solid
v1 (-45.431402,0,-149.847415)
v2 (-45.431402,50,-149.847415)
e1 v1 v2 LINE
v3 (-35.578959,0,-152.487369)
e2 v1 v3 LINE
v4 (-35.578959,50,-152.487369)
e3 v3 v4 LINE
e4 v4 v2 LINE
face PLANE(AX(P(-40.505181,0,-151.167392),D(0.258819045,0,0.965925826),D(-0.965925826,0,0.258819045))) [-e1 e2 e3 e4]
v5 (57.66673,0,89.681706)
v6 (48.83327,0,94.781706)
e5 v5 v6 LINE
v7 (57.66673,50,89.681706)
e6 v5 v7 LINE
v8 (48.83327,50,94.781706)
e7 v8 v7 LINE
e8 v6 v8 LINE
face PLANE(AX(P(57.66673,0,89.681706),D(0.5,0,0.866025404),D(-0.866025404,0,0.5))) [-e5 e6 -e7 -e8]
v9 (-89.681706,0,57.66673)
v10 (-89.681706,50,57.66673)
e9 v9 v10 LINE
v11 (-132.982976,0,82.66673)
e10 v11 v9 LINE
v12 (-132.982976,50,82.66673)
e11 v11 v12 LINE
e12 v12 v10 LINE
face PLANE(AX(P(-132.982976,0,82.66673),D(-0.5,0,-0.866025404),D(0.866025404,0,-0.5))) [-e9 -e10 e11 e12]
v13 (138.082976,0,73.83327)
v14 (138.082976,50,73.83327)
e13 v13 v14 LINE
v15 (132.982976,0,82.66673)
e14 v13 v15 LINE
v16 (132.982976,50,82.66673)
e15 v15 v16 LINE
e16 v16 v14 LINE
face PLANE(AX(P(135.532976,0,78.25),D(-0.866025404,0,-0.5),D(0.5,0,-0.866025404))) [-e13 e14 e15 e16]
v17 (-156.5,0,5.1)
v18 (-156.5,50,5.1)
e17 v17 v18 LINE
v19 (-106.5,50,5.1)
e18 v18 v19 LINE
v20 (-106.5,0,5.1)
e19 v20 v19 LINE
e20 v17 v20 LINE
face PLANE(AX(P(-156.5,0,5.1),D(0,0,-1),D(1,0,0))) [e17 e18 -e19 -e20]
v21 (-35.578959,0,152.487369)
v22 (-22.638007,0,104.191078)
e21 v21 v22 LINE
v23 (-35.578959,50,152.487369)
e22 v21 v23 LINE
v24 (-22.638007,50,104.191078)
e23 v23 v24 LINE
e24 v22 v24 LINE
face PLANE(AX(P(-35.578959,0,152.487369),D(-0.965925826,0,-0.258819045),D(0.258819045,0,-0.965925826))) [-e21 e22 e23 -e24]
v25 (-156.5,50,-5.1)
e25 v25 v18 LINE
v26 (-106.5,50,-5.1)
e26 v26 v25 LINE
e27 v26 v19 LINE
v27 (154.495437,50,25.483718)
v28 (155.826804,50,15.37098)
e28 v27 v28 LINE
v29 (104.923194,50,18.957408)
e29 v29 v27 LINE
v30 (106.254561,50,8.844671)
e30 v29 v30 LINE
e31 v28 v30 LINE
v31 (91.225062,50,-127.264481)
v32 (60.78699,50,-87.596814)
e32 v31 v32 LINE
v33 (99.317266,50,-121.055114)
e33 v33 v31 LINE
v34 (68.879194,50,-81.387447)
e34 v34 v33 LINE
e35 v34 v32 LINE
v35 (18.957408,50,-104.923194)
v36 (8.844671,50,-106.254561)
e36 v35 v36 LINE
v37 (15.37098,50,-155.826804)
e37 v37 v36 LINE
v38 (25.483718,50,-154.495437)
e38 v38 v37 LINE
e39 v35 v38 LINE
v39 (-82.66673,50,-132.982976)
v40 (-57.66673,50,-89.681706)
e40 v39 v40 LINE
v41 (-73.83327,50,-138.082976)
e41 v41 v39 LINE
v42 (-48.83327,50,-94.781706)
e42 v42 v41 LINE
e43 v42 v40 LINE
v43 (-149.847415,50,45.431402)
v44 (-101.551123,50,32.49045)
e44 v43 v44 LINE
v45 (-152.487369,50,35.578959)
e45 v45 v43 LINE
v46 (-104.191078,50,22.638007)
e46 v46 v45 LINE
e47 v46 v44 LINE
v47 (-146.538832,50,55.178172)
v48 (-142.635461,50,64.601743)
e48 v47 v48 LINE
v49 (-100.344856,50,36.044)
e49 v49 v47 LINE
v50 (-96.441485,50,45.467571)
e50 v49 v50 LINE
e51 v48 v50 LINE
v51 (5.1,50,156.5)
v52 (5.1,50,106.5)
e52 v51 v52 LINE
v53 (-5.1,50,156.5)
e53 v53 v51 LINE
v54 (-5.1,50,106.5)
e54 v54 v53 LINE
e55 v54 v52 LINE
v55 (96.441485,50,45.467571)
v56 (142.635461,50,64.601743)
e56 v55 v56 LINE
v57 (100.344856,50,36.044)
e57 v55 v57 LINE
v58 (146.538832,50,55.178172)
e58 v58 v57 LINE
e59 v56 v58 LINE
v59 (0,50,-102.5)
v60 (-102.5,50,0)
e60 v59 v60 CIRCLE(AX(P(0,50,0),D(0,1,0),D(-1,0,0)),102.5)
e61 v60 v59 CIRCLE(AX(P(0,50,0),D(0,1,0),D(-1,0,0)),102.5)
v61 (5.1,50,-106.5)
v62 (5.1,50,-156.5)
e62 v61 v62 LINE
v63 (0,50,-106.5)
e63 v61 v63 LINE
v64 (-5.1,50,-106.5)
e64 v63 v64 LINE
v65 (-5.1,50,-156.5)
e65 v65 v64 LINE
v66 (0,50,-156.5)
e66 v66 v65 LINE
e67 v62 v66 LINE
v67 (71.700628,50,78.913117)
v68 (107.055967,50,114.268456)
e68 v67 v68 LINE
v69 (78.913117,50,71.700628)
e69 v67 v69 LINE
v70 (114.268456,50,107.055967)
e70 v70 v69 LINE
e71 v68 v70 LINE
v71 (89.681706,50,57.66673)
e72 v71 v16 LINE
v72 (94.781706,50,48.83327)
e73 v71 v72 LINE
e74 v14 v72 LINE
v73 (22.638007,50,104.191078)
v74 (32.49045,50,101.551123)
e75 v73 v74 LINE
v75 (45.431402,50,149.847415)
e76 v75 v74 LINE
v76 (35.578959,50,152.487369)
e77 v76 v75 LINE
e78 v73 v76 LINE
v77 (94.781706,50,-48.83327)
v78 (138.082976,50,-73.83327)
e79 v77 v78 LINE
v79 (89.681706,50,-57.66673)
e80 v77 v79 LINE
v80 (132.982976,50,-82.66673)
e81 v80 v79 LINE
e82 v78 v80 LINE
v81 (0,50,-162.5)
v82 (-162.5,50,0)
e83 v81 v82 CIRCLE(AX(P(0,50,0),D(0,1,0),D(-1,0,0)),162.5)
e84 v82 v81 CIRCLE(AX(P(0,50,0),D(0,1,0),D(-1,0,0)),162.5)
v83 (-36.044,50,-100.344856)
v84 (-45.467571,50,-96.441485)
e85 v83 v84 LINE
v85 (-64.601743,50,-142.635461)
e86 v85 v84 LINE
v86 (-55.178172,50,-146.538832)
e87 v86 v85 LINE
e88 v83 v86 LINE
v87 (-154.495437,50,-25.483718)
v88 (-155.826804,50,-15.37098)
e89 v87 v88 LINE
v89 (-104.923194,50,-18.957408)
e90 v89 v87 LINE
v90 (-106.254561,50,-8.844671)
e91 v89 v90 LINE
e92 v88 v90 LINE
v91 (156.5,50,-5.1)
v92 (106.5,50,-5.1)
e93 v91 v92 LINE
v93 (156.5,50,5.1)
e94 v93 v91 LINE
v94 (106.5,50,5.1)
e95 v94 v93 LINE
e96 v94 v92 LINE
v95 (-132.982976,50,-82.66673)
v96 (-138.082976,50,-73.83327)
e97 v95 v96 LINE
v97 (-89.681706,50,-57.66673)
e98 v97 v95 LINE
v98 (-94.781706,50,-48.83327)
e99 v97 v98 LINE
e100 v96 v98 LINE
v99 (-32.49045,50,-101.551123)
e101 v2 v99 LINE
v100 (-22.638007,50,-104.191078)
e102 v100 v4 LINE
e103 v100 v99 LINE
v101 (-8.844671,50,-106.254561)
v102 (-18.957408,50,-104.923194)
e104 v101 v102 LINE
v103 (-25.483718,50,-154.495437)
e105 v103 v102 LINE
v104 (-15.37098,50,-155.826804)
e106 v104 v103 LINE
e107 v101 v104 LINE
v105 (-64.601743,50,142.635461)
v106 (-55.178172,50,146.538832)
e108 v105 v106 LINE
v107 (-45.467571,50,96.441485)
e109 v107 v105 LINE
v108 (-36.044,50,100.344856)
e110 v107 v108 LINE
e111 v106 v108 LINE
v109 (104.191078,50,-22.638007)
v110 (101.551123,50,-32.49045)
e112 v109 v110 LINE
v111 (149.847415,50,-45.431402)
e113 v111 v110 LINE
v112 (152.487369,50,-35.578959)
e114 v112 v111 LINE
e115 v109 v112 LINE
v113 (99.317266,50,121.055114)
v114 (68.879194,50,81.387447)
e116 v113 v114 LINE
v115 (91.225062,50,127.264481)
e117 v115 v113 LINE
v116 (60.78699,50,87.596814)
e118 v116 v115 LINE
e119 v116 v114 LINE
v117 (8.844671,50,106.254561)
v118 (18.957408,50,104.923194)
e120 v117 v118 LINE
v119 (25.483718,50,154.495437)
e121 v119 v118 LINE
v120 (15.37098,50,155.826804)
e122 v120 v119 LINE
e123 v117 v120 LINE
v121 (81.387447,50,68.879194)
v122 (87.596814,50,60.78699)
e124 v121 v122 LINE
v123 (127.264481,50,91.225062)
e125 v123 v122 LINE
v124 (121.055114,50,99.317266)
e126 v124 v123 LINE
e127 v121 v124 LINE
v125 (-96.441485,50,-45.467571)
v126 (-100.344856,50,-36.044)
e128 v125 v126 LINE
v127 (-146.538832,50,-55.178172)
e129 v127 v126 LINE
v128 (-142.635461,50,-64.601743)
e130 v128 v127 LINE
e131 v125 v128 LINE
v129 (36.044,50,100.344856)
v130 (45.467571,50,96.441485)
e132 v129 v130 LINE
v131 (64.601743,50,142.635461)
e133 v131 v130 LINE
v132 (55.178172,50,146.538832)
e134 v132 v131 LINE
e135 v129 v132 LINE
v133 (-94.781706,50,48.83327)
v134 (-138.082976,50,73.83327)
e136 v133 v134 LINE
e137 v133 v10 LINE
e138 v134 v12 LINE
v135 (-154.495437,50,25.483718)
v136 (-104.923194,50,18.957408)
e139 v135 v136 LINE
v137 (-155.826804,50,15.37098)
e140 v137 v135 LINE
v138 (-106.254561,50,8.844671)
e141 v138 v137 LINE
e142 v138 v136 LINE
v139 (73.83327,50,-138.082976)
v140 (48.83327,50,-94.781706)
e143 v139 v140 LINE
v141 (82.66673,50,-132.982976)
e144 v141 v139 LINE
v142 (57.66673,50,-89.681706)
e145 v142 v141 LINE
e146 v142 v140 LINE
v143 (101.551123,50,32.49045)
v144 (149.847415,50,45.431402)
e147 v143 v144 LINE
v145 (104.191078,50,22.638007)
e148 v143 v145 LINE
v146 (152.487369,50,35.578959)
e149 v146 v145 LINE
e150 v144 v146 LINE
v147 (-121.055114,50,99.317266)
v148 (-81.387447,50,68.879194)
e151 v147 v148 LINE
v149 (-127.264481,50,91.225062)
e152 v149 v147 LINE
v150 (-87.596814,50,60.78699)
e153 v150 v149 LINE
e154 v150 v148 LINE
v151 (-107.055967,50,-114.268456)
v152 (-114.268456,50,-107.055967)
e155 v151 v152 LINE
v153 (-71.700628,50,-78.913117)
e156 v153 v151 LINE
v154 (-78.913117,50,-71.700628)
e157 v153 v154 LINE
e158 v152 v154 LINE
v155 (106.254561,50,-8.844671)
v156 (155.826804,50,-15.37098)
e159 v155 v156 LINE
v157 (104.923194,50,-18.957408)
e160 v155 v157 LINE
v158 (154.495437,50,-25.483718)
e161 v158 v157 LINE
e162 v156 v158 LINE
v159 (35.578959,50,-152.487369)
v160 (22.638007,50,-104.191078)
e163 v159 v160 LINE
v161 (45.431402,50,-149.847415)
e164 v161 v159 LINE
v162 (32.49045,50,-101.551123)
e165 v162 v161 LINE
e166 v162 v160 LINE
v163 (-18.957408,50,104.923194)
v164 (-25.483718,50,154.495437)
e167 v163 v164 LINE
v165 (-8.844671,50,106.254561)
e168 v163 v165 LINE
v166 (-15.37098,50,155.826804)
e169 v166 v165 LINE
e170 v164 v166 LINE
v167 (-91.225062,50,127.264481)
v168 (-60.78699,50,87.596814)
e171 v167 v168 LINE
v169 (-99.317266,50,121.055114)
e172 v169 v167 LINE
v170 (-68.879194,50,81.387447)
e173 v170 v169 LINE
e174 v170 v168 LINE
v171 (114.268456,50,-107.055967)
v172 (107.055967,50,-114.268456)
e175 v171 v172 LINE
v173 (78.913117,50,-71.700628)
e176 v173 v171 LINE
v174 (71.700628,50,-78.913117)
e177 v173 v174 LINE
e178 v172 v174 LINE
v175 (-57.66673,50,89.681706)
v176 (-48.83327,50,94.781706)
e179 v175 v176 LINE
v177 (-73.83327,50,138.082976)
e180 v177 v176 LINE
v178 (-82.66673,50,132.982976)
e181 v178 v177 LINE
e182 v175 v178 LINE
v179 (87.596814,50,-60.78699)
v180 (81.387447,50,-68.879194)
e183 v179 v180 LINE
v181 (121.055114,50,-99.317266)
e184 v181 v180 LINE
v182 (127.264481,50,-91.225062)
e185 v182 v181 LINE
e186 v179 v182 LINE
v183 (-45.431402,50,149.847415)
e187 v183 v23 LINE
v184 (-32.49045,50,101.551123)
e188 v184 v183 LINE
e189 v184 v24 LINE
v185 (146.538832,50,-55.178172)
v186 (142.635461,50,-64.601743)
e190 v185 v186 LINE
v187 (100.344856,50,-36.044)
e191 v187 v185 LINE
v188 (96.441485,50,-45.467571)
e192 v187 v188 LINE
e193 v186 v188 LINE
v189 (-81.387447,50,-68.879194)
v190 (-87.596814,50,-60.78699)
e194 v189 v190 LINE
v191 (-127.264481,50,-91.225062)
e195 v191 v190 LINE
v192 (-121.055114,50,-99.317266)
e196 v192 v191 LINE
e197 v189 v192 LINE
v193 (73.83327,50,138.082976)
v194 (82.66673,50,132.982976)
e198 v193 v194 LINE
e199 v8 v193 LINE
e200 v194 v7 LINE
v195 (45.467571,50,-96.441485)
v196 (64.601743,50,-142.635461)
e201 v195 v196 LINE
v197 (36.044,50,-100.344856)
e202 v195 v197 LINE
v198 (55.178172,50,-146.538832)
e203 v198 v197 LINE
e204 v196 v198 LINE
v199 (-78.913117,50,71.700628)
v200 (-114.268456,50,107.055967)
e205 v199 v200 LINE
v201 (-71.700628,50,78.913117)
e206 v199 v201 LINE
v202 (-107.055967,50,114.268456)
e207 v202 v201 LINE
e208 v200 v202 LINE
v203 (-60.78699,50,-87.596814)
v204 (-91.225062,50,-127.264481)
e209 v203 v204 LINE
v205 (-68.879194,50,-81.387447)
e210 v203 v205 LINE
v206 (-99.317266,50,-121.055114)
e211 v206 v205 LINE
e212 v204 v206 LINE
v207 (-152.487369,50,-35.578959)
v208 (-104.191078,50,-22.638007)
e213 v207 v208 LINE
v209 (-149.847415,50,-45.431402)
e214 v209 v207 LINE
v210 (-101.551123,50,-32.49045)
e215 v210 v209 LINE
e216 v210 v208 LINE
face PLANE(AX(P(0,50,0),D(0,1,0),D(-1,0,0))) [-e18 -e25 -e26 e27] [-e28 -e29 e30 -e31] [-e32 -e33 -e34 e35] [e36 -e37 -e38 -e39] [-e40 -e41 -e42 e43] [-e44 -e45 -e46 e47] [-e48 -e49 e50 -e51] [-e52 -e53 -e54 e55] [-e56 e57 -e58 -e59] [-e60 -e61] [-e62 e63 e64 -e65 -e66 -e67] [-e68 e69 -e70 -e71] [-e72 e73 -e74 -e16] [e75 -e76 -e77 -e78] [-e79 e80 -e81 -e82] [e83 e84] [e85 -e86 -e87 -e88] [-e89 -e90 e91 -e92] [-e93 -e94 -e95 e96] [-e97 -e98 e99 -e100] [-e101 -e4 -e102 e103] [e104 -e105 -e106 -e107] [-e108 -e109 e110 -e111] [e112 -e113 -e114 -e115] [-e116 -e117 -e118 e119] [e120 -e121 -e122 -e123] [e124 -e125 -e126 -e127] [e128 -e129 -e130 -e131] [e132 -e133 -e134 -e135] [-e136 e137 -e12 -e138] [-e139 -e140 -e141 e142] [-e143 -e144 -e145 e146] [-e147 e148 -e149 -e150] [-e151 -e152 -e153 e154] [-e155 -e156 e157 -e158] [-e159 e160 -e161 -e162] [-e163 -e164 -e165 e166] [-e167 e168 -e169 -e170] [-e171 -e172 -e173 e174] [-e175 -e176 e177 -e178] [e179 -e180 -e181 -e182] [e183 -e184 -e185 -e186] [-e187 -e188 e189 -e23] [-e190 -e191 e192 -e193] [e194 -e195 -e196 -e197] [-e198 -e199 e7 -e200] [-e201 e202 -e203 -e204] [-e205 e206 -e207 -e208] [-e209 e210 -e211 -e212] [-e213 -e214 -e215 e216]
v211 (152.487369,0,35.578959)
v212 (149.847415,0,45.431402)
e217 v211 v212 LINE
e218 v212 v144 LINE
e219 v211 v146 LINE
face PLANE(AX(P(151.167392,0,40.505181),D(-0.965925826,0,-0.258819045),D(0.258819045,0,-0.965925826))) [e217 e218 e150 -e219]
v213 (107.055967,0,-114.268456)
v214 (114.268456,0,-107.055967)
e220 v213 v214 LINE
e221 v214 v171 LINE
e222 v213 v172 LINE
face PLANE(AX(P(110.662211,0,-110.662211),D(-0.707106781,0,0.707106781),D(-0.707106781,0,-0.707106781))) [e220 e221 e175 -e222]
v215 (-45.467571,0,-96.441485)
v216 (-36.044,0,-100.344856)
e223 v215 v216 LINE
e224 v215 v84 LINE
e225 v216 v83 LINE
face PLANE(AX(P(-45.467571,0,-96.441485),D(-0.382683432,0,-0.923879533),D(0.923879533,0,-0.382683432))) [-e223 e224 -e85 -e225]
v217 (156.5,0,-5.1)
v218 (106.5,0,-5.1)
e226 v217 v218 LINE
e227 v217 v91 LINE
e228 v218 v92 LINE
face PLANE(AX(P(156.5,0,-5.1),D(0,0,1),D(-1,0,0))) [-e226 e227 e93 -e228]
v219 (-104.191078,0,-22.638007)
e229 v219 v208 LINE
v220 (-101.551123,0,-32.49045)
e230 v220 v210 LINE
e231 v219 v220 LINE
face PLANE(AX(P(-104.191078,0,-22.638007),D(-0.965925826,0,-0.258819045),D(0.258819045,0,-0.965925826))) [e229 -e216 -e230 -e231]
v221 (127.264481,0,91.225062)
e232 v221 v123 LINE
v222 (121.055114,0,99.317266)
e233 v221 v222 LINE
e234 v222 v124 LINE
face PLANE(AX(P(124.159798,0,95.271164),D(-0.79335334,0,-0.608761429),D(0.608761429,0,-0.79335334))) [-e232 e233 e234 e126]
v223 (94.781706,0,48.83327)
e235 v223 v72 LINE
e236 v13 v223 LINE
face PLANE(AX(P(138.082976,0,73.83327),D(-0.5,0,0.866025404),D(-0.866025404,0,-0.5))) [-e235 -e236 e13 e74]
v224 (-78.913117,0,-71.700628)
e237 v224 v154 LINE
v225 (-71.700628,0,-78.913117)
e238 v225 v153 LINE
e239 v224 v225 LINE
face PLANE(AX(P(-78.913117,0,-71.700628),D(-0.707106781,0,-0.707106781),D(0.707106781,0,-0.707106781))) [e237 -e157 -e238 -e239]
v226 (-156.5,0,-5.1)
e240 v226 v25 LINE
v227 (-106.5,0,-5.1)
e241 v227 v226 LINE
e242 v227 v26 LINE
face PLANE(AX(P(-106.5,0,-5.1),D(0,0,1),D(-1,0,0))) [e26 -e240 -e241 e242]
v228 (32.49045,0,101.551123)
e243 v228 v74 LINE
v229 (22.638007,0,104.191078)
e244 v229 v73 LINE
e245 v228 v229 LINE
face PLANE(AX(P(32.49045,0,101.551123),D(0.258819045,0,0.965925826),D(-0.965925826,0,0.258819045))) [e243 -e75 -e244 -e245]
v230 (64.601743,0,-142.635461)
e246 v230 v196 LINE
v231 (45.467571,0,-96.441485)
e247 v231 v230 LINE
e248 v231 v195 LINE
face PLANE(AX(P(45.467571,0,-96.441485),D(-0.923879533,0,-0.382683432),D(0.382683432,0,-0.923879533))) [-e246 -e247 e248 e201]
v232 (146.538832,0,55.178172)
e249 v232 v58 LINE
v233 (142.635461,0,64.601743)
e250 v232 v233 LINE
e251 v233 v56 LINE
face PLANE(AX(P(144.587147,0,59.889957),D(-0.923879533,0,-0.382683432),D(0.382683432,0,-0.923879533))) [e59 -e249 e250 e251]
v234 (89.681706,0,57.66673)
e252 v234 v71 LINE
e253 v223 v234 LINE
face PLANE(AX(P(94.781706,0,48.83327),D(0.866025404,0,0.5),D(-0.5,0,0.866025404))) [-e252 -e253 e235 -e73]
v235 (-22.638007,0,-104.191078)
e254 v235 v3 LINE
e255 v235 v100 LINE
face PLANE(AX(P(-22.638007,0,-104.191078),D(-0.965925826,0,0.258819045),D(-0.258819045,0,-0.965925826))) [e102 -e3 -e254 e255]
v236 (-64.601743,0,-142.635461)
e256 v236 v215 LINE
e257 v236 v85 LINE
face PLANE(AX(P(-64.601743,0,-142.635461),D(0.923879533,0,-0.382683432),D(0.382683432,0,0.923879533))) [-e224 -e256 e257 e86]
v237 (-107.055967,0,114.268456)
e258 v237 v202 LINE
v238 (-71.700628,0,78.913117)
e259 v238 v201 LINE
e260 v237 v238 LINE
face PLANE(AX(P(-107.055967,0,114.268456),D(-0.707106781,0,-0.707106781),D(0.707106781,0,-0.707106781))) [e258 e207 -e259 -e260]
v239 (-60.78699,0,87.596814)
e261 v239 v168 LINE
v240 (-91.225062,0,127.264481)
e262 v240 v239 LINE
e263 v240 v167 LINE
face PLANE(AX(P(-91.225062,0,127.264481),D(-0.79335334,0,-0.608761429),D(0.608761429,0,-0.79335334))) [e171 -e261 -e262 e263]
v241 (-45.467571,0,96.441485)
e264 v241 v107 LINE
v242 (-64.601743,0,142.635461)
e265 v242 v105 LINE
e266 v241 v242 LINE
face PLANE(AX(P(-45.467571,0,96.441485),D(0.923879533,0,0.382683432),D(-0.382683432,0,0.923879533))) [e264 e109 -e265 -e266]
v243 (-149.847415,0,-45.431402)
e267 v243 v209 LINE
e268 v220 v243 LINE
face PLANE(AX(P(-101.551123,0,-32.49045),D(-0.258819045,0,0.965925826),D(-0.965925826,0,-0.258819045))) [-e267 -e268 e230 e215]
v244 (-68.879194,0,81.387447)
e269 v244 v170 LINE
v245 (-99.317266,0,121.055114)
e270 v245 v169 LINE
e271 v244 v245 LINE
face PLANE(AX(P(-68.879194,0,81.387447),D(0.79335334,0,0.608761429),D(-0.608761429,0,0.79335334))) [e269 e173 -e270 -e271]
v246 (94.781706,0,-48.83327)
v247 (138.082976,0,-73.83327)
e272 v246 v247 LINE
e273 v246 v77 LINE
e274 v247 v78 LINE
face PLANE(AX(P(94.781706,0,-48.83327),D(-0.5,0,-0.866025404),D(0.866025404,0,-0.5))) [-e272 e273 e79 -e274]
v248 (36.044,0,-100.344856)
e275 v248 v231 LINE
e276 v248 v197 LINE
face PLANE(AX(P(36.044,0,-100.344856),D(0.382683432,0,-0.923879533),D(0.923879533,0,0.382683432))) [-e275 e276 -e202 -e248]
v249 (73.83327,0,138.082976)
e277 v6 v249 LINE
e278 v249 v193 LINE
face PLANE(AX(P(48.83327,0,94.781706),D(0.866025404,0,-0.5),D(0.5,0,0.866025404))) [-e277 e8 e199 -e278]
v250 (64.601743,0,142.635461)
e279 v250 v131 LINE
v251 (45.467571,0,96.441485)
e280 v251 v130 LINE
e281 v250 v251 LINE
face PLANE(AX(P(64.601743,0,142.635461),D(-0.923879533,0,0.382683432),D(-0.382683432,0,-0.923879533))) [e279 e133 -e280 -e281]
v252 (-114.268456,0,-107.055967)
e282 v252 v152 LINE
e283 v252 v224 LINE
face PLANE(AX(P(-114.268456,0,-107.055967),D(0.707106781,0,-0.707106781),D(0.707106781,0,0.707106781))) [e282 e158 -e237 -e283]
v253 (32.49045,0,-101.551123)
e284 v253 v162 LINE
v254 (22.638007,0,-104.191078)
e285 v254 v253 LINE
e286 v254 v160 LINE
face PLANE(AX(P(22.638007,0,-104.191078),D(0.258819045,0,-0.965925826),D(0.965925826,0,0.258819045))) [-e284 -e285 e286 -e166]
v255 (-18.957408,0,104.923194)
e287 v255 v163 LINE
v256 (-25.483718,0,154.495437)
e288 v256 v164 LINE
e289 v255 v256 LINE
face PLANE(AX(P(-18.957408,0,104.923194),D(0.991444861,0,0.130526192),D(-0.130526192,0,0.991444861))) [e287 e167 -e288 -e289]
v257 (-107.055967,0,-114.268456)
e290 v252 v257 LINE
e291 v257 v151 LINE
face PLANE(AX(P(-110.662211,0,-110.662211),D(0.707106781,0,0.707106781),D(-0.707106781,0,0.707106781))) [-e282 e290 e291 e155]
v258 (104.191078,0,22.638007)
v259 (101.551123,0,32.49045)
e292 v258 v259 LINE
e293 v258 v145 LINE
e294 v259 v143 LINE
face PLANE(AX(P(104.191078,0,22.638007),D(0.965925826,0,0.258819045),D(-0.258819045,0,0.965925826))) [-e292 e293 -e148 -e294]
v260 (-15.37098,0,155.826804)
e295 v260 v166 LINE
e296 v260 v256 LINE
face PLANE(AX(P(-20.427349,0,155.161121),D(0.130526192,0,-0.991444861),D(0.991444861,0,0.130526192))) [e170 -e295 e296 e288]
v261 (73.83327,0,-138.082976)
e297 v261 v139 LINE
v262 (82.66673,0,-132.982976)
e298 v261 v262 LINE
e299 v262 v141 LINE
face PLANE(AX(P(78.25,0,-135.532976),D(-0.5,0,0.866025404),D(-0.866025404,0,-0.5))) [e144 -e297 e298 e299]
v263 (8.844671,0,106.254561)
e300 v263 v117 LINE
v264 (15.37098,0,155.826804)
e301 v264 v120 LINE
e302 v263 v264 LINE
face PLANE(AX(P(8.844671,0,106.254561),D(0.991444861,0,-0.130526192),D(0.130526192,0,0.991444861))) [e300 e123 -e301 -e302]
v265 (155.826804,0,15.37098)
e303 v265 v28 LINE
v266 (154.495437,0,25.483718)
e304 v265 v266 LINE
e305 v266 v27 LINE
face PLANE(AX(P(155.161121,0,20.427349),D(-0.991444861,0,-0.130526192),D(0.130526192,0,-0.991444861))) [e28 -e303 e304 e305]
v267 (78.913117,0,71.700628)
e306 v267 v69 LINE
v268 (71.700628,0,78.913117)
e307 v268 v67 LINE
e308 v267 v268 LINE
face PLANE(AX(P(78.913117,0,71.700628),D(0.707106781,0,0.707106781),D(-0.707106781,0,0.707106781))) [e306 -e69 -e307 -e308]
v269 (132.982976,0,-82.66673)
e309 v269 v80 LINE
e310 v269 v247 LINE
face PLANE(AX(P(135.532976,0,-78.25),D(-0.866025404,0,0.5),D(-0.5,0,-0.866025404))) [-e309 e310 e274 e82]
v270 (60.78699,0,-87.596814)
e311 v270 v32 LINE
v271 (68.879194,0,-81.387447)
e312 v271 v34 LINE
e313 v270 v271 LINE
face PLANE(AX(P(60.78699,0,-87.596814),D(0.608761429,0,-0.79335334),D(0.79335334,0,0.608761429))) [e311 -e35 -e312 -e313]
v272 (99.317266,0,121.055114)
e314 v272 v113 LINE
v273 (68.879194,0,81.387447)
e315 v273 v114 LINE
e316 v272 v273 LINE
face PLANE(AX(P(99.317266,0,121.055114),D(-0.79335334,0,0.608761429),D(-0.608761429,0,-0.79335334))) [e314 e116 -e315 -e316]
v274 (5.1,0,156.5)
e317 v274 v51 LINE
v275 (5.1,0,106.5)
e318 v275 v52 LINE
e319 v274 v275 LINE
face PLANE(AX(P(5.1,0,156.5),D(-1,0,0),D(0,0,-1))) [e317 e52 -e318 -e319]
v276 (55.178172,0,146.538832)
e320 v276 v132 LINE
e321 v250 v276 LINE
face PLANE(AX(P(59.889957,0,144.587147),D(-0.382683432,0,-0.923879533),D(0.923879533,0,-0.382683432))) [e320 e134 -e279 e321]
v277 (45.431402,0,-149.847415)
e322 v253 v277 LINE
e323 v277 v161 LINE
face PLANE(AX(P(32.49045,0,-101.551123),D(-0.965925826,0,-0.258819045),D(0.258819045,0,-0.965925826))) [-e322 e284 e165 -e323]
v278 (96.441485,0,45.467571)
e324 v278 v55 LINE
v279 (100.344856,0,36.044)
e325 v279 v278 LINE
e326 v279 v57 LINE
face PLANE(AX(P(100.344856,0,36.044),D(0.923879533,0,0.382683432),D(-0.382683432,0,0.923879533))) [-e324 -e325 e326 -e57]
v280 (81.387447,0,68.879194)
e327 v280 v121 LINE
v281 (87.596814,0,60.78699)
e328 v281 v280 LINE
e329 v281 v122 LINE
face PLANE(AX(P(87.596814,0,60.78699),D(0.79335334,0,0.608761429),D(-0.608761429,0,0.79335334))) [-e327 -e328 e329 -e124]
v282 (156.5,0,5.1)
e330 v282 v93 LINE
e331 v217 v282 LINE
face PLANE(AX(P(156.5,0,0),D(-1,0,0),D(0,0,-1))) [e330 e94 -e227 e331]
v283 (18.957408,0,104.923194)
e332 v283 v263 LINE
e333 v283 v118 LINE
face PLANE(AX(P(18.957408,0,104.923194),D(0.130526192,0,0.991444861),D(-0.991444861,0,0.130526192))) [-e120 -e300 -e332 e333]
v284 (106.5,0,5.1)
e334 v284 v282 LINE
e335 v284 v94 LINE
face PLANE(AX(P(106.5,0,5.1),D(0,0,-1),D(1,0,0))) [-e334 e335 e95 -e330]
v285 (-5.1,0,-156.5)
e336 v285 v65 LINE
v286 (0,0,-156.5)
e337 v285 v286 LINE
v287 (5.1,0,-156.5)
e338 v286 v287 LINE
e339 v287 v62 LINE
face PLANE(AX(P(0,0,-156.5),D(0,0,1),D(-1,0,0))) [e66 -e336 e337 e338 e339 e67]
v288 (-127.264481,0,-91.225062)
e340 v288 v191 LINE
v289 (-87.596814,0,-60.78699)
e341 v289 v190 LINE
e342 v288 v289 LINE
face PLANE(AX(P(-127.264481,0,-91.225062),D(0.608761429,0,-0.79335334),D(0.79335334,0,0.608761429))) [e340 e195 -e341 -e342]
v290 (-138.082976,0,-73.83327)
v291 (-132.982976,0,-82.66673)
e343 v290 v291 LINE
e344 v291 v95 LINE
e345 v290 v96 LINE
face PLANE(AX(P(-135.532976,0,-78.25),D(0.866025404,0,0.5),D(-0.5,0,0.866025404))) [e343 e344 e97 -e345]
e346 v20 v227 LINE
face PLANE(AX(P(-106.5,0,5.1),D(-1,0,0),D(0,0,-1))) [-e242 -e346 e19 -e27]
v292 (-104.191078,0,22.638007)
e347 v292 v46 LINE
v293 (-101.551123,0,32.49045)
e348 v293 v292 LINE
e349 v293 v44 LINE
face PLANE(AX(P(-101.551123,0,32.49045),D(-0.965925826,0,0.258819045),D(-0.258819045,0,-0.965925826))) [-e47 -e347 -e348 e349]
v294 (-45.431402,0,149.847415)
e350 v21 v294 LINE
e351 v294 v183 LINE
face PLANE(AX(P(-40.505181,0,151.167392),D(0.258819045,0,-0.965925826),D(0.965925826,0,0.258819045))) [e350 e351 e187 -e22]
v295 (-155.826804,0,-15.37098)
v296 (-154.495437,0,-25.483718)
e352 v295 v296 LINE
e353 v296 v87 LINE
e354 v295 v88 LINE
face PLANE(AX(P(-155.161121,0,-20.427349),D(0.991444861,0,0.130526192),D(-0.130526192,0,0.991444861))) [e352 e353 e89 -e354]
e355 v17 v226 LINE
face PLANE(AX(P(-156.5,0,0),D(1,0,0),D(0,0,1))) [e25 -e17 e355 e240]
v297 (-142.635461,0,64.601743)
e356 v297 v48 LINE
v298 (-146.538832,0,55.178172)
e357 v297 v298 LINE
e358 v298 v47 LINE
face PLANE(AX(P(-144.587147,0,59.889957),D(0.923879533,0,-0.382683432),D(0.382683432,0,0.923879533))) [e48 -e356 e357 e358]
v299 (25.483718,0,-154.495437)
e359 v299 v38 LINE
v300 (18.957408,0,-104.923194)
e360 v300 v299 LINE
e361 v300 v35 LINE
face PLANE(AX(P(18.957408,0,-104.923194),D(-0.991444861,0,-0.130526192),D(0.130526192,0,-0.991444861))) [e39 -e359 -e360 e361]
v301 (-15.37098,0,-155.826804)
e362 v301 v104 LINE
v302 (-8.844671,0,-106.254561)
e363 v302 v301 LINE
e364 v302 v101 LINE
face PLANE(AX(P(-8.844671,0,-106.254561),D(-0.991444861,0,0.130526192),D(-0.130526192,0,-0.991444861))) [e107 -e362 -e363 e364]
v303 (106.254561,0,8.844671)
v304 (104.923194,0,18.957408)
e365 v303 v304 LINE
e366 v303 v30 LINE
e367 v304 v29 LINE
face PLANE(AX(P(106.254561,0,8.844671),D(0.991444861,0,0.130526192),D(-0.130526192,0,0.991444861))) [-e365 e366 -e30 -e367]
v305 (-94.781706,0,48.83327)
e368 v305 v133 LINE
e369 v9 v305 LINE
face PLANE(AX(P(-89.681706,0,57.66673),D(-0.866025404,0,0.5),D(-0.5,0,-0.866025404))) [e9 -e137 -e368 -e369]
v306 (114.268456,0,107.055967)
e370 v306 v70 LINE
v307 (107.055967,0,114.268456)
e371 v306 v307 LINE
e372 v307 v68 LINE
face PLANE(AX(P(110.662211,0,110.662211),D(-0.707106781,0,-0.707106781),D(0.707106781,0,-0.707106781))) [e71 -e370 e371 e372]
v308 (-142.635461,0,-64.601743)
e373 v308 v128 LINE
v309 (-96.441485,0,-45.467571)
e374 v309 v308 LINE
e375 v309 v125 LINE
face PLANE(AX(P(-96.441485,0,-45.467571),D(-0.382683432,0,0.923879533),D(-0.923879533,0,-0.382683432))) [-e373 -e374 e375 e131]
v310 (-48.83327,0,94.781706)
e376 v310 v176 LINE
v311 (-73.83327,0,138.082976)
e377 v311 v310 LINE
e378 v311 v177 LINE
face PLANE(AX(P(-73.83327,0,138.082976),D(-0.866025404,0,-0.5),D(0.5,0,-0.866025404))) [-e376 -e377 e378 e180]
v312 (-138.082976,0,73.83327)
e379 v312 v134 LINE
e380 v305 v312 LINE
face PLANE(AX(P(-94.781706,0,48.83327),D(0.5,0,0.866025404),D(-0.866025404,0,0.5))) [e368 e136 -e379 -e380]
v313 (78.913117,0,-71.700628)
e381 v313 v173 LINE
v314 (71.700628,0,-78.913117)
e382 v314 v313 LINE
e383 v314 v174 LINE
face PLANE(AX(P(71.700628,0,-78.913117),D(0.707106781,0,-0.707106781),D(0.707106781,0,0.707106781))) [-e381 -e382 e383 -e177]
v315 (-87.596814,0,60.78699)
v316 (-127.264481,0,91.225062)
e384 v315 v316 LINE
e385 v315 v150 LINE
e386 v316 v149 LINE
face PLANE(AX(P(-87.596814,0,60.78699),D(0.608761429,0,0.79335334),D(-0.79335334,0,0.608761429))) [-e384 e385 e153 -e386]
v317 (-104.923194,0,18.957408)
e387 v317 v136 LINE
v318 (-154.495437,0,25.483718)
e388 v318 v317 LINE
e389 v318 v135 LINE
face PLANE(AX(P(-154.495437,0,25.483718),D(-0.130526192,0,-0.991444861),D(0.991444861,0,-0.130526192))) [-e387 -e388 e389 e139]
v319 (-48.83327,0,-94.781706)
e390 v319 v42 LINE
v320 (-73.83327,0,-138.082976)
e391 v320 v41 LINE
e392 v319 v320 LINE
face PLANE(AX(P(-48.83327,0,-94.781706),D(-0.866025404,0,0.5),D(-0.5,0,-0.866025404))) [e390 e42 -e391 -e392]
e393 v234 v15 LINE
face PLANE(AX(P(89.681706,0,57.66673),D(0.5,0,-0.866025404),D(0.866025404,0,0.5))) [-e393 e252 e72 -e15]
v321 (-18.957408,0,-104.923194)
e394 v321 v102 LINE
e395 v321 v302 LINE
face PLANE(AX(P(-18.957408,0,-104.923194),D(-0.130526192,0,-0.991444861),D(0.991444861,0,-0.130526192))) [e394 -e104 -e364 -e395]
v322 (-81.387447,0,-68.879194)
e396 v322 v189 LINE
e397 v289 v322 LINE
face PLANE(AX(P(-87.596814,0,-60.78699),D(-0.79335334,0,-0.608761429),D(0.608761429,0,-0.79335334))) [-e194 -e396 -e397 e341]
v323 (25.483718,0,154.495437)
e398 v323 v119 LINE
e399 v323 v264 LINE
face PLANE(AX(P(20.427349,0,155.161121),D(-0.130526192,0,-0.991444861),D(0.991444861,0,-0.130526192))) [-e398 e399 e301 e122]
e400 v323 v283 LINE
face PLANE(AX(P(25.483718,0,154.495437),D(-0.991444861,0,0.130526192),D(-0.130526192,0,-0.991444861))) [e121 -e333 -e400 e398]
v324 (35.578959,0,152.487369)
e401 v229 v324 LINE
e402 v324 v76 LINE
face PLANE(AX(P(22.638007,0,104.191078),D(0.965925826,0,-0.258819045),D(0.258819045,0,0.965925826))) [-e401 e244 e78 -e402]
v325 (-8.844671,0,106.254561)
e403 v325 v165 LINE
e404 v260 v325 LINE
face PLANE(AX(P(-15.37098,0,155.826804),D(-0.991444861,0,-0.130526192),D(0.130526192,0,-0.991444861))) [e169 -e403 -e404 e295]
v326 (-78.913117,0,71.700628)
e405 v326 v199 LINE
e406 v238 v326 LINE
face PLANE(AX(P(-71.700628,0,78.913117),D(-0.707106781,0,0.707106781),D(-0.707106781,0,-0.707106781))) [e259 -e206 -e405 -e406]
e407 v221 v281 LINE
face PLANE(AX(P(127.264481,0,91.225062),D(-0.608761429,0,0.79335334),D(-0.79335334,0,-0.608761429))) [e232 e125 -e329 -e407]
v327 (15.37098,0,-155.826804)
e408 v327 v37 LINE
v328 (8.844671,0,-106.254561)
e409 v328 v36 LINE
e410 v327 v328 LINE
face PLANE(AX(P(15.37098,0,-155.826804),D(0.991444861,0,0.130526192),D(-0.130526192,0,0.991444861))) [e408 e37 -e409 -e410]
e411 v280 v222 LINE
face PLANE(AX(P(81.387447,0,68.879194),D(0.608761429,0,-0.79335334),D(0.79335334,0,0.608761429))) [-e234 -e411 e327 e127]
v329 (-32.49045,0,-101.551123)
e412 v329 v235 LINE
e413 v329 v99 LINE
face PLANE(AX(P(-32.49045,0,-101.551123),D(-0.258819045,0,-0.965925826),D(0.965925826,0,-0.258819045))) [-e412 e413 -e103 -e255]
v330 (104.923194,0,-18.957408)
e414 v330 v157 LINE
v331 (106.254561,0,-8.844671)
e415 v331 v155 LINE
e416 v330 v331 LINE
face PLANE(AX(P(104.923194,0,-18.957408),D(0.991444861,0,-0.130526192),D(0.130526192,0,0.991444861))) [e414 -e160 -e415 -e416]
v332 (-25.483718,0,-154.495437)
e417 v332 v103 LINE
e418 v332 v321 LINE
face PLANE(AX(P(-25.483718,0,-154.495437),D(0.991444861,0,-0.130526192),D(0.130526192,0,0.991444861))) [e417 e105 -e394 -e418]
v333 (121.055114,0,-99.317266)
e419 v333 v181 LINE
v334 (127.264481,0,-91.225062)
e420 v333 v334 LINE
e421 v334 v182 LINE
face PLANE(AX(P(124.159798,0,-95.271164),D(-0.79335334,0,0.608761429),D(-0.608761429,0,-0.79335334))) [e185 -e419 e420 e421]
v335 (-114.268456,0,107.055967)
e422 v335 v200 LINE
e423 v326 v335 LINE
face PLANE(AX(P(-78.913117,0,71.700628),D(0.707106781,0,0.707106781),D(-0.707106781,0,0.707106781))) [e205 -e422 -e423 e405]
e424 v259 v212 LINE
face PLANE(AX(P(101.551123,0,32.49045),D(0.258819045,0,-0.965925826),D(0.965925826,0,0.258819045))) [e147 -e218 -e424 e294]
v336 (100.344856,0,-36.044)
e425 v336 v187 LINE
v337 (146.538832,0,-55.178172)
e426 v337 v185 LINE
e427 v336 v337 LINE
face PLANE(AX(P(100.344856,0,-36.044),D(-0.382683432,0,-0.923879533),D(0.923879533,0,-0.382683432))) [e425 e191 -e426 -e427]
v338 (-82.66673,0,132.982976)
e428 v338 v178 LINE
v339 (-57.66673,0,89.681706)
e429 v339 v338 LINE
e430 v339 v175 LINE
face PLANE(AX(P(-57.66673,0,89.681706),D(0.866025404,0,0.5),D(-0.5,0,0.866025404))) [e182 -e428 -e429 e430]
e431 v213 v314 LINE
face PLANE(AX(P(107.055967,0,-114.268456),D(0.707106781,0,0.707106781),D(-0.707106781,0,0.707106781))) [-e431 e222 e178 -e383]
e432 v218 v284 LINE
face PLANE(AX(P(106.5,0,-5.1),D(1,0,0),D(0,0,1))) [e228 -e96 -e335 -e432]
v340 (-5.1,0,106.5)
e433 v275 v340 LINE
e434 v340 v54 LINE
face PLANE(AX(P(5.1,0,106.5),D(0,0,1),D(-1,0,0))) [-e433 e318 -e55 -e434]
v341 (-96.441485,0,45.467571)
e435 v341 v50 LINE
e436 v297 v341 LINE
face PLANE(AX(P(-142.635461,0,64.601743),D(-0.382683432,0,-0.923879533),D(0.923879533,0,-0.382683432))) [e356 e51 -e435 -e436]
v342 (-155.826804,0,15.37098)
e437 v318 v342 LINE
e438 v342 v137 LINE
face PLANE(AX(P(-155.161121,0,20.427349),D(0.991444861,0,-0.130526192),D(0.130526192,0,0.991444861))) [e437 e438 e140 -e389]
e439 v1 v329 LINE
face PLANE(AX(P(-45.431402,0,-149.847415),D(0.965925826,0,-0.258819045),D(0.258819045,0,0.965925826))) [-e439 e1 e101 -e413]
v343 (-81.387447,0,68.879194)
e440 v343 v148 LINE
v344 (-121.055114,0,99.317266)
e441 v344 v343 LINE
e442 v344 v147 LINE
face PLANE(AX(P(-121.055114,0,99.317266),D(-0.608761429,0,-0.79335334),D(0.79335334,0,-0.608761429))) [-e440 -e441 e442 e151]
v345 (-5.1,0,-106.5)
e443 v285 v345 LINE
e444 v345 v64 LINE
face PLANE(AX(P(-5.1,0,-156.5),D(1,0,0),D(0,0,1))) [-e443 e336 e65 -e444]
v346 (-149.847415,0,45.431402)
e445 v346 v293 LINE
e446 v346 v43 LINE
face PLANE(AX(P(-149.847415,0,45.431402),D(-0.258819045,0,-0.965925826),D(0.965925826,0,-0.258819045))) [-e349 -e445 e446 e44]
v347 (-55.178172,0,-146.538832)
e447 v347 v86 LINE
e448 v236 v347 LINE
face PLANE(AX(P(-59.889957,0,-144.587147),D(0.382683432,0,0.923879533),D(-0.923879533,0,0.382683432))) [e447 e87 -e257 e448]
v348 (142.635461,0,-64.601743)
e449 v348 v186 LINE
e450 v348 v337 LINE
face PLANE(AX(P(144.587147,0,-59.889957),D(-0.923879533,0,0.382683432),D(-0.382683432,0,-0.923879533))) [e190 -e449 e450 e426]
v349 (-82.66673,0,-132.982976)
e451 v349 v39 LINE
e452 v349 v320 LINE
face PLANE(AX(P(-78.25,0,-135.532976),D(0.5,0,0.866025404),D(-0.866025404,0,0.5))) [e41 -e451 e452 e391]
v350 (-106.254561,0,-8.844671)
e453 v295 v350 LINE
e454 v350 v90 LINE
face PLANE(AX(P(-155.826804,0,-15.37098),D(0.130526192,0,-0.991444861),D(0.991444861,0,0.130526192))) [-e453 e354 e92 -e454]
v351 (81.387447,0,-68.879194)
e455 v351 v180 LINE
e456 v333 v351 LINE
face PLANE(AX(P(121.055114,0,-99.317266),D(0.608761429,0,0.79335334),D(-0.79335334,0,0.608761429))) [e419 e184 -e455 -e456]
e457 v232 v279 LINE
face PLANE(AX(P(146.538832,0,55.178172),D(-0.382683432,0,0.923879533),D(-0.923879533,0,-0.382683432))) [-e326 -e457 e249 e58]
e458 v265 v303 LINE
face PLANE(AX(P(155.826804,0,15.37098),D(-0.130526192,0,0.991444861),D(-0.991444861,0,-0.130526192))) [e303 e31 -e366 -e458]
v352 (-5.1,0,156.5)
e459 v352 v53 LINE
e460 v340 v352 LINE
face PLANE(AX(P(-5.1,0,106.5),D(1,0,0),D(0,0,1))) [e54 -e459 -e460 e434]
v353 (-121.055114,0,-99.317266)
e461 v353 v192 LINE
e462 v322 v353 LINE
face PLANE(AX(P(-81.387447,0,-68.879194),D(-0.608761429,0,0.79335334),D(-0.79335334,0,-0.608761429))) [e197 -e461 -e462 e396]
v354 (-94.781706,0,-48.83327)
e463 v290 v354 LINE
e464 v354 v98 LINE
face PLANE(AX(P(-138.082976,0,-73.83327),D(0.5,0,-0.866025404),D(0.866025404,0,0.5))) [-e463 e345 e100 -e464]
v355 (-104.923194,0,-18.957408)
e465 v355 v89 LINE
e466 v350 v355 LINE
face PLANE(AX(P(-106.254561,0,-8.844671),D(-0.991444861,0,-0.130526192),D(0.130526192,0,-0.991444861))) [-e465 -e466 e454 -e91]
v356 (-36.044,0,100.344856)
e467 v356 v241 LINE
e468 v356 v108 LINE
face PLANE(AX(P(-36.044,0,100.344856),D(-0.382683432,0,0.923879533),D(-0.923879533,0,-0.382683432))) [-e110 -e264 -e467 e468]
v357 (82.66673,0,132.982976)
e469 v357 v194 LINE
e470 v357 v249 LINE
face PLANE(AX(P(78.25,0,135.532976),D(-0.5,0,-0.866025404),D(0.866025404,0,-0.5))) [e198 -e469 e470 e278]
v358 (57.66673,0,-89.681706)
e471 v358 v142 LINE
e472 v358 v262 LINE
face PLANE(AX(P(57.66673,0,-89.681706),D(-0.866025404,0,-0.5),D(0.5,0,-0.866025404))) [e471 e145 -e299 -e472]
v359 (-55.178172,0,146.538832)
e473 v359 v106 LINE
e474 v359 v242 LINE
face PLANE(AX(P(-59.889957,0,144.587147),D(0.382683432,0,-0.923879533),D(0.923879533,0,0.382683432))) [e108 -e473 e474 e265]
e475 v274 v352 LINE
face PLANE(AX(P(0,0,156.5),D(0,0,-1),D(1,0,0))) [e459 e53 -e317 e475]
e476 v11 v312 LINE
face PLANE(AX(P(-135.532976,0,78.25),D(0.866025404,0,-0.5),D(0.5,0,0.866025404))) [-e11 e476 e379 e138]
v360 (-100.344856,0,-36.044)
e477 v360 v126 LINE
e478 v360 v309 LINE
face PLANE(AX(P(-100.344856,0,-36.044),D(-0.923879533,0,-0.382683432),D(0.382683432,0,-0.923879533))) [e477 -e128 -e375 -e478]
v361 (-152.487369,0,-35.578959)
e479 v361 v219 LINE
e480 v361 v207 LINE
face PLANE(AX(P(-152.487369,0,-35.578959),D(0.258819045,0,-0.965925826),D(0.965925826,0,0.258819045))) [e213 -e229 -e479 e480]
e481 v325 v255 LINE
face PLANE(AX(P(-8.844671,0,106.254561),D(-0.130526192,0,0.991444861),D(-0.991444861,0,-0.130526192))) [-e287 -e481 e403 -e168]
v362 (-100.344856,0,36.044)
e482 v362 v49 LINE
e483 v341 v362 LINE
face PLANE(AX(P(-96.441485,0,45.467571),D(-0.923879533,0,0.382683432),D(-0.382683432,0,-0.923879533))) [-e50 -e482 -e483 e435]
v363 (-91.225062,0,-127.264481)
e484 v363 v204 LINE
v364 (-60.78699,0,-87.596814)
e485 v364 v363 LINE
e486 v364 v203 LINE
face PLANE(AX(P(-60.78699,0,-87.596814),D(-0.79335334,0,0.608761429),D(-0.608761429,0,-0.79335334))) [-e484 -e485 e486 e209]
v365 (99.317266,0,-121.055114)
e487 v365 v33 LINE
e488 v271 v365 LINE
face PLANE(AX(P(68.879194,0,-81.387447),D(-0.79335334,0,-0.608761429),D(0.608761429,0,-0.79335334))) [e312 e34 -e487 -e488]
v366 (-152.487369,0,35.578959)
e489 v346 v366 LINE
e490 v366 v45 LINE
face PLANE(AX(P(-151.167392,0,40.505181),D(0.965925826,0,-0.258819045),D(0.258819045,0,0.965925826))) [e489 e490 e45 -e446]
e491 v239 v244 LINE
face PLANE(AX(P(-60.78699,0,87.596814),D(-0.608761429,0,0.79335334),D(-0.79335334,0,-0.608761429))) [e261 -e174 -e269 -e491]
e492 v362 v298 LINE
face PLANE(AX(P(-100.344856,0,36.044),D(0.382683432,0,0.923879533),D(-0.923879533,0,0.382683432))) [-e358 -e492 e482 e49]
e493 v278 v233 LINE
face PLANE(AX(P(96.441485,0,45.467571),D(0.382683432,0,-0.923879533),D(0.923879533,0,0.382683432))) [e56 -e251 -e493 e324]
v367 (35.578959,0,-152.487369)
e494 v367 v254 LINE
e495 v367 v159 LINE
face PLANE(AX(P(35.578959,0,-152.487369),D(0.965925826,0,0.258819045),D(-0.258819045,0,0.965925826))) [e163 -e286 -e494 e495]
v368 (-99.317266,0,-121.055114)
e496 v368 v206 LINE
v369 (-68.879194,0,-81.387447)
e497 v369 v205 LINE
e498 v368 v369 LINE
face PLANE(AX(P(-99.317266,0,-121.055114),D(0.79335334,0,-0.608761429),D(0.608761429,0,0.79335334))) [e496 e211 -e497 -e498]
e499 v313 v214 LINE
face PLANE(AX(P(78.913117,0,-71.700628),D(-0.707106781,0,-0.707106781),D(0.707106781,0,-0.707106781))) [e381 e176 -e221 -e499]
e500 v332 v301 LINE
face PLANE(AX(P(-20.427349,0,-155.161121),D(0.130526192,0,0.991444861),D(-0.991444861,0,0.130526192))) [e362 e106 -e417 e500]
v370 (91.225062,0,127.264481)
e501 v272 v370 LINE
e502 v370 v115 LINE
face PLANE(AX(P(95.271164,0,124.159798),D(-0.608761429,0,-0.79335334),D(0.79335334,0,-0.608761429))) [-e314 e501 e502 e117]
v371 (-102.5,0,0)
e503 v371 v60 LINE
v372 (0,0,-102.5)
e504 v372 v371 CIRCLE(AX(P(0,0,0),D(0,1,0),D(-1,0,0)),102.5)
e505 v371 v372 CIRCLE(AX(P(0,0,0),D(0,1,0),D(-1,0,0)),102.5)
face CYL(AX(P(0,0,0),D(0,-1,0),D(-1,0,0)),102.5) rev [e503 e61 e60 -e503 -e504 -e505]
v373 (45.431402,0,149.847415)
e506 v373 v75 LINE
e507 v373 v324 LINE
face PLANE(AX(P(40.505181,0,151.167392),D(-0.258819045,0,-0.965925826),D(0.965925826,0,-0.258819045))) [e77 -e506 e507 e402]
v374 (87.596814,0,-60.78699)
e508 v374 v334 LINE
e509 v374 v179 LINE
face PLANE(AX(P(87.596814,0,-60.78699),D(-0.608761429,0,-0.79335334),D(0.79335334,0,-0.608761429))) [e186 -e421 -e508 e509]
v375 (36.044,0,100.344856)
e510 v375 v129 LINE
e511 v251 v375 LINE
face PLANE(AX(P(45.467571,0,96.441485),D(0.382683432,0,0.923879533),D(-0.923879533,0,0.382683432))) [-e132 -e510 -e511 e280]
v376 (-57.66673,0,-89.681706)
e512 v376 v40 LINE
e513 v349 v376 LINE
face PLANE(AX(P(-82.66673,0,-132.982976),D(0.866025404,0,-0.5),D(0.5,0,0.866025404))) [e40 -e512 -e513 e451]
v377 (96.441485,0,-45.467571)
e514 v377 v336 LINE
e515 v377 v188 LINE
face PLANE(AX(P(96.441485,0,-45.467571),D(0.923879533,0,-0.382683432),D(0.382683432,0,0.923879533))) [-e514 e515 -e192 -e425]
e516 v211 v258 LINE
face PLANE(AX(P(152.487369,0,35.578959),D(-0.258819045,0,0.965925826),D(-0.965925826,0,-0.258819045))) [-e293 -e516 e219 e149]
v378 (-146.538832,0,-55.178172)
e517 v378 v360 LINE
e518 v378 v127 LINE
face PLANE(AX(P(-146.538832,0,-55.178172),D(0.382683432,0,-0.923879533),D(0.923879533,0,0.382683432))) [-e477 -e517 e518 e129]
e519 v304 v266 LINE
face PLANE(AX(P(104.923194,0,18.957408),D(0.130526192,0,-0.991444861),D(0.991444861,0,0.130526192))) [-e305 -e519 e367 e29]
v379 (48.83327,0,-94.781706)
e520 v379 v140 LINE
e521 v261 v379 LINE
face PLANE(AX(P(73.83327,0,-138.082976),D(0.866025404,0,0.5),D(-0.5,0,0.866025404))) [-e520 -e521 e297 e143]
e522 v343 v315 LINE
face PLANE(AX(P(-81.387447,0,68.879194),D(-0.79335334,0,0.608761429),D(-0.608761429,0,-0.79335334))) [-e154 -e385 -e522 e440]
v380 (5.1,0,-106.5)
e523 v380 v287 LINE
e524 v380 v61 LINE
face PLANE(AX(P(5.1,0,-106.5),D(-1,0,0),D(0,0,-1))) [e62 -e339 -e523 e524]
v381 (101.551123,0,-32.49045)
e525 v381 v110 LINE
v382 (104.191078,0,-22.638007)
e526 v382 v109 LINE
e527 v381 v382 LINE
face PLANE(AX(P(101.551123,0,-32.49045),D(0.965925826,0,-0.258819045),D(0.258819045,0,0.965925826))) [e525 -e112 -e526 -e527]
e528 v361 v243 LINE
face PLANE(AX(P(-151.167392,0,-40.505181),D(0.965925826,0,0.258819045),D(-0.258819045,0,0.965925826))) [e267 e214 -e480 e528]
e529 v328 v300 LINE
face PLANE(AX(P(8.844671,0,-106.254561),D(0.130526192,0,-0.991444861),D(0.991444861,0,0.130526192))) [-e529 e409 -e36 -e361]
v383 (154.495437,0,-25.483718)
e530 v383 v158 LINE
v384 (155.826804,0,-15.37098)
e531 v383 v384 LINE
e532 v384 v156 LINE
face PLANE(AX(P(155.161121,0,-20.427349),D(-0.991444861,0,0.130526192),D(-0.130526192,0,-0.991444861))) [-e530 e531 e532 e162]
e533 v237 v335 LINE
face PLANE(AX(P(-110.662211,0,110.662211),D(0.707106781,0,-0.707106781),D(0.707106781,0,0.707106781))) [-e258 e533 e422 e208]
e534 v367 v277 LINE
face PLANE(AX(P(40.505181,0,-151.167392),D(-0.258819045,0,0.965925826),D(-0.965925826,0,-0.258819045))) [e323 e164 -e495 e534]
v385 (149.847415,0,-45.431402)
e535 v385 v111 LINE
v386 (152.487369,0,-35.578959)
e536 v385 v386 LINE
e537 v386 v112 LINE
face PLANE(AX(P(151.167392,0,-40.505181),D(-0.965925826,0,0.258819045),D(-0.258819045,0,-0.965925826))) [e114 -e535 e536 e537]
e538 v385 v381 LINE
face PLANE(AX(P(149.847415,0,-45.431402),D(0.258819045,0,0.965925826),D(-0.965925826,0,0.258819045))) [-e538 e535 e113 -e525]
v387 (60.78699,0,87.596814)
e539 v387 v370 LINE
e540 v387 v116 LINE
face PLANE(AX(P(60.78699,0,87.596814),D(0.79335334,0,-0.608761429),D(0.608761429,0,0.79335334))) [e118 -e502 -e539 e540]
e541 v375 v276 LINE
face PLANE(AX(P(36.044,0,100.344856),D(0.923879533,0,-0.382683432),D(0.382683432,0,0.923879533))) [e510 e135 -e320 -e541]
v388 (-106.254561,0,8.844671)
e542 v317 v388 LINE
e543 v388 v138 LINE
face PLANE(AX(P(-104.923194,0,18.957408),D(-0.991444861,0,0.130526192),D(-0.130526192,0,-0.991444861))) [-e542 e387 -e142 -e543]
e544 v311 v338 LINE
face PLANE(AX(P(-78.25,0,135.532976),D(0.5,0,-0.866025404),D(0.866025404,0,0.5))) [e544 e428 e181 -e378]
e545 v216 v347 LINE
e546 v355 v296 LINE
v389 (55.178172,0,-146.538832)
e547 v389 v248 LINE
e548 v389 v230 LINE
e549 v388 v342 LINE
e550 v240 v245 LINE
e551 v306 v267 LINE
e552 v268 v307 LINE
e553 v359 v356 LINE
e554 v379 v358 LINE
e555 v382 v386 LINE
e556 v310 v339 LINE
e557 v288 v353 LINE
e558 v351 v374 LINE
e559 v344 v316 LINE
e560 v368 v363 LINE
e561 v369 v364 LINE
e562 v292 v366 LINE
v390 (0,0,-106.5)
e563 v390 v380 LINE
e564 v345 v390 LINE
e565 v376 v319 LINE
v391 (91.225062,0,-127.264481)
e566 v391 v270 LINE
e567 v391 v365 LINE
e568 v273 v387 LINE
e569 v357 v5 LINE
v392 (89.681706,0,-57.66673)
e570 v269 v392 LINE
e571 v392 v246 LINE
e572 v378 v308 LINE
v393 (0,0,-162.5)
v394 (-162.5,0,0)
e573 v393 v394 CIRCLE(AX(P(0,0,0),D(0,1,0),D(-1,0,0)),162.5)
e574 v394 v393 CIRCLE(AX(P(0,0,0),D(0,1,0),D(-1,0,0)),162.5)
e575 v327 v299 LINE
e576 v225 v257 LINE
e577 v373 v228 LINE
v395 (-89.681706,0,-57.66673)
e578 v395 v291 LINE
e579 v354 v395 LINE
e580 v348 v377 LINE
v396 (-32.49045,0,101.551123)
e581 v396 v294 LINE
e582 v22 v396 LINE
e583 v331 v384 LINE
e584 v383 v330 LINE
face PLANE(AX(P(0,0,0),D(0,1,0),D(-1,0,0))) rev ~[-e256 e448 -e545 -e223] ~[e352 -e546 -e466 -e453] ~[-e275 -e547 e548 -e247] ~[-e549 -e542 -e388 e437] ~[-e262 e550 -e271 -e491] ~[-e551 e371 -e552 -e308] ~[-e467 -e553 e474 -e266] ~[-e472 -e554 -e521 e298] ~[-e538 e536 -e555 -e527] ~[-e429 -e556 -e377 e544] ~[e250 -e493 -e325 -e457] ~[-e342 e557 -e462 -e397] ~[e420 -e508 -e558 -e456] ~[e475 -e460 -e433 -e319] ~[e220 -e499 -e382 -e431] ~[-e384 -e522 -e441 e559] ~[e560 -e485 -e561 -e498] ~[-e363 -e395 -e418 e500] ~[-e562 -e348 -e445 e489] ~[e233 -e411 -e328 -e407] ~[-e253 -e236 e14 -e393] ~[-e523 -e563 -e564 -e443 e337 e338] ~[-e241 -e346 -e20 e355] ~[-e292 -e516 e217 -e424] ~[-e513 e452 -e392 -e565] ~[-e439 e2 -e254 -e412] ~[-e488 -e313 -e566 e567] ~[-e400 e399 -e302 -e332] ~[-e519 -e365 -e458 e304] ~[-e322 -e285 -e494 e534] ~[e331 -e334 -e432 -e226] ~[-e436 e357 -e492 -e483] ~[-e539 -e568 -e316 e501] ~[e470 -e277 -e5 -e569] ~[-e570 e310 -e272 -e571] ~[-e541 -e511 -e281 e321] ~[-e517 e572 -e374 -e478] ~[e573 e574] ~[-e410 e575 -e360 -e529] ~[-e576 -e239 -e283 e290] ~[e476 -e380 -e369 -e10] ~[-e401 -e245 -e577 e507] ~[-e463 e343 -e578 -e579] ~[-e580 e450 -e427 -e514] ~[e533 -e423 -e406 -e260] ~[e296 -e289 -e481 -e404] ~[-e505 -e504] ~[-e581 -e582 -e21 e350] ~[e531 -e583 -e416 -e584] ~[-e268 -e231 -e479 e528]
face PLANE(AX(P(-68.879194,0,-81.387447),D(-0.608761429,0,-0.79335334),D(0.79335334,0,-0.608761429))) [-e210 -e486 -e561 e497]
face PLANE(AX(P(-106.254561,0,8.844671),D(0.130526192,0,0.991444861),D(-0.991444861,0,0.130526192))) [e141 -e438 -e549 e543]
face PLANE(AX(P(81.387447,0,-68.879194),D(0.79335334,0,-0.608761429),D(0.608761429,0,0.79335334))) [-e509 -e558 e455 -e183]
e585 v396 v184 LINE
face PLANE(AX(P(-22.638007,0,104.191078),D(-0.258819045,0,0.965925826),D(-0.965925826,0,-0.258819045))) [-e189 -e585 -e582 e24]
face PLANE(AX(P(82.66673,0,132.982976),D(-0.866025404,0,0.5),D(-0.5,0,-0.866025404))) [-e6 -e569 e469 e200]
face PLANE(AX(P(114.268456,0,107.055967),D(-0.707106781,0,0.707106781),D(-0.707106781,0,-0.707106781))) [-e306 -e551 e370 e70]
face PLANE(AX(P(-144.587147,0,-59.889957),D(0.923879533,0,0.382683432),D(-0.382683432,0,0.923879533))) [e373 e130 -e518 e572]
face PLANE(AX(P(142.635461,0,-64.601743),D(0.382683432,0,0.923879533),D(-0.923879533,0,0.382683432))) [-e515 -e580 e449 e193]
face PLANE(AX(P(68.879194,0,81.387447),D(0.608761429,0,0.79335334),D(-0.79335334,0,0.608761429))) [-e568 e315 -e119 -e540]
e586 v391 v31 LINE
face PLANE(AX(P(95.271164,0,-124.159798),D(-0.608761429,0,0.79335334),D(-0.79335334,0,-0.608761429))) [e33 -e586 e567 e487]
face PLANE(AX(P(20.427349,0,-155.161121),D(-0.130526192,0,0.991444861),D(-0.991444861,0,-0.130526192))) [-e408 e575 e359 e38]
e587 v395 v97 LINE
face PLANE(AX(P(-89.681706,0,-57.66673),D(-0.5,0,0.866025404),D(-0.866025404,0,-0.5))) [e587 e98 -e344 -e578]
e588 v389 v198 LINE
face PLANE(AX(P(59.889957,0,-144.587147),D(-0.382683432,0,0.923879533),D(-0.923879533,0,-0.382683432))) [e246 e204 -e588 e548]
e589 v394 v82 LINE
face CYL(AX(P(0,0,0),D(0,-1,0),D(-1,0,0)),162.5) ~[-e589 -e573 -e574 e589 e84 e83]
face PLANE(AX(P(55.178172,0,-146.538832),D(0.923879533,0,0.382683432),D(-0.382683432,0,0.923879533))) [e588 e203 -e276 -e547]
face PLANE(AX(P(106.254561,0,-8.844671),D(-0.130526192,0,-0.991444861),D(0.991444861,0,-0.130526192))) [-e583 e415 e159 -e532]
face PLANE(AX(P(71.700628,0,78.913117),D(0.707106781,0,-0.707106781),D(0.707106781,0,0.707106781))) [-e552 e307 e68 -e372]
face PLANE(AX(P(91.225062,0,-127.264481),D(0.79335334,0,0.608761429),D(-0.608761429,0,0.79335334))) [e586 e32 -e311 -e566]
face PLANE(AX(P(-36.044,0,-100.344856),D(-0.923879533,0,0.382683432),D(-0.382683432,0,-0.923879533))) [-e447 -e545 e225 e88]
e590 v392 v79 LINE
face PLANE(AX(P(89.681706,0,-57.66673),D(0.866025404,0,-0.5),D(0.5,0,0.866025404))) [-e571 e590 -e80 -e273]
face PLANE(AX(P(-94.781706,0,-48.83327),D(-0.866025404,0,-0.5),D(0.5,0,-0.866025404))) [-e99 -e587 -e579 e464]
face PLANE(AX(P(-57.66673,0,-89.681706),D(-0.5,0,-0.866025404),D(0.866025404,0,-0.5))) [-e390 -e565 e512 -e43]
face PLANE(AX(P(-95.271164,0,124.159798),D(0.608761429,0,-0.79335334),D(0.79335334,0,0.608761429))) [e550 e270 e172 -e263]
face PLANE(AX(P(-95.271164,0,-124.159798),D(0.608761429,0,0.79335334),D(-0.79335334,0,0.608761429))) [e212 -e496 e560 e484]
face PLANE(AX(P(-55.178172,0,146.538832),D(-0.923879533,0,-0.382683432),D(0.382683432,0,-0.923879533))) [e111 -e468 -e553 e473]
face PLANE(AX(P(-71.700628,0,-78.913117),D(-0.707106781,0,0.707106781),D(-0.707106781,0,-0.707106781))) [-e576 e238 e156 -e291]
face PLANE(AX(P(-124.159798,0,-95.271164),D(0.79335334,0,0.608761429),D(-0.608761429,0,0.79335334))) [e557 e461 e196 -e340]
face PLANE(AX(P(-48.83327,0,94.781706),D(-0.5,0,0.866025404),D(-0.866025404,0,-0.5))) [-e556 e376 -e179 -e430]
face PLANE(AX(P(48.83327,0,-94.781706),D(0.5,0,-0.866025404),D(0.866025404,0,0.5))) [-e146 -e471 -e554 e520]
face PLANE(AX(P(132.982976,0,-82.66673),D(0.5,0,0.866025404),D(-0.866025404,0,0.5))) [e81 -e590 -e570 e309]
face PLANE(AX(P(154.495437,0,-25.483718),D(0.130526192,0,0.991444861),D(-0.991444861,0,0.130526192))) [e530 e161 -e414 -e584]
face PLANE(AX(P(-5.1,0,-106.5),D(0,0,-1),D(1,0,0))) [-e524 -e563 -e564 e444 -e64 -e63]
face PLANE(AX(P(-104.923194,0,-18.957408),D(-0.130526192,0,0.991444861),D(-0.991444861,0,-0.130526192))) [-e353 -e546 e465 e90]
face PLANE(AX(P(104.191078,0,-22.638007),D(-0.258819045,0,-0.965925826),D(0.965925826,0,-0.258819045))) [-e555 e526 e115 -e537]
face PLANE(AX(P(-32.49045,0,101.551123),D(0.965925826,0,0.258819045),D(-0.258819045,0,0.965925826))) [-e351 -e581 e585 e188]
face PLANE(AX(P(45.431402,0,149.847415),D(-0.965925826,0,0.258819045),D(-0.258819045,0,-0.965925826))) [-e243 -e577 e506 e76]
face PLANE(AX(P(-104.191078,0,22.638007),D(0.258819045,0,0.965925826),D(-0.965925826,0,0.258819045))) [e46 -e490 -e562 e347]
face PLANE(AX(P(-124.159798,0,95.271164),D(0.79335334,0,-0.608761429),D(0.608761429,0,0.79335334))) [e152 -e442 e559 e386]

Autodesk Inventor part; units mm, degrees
ref_plane "YZ Plane" through (0, 0, 0) normal (1, 0, 0) x (0, 1, 0)
ref_plane "XZ Plane" through (0, 0, 0) normal (0, 1, 0) x (-1, 0, 0)
ref_plane "XY Plane" through (0, 0, 0) normal (0, 0, 1) x (1, 0, 0)
sketch "Sketch1" plane through (0, 0, 0) normal (0, 1, 0) x (-1, 0, 0)
  circle A0 centre (0, 0) radius 102.5
  circle A1 centre (0, 0) radius 162.5
  line L0 (0, -102.5) -> (0, -162.5)
  line L1 (5.1, -106.5) -> (-5.1, -106.5)
  line L2 (-5.1, -106.5) -> (-5.1, -156.5)
  line L3 (-5.1, -156.5) -> (5.1, -156.5)
  line L4 (5.1, -156.5) -> (5.1, -106.5)
  dimension "d0" = 60
  dimension "d1" = 205
  dimension "d3" = 10.2
  dimension "d4" = 50
  dimension "d5" = 4
extrude "Extrusion1" add sketch "Sketch1" along normal blind 50 contours A1 | L1 L4 L3 L0 | L0 L3 L2 L1
extrude "Extrusion2" cut sketch "Sketch1" along normal blind 50 contours L1 L4 L3 L0 | L0 L3 L2 L1
pattern_circular "Circular Pattern1" count 48 over 360 about axis through (0, 0, 0) along (0, 1, 0) of "Extrusion2"
properties part number "ring as whole"
